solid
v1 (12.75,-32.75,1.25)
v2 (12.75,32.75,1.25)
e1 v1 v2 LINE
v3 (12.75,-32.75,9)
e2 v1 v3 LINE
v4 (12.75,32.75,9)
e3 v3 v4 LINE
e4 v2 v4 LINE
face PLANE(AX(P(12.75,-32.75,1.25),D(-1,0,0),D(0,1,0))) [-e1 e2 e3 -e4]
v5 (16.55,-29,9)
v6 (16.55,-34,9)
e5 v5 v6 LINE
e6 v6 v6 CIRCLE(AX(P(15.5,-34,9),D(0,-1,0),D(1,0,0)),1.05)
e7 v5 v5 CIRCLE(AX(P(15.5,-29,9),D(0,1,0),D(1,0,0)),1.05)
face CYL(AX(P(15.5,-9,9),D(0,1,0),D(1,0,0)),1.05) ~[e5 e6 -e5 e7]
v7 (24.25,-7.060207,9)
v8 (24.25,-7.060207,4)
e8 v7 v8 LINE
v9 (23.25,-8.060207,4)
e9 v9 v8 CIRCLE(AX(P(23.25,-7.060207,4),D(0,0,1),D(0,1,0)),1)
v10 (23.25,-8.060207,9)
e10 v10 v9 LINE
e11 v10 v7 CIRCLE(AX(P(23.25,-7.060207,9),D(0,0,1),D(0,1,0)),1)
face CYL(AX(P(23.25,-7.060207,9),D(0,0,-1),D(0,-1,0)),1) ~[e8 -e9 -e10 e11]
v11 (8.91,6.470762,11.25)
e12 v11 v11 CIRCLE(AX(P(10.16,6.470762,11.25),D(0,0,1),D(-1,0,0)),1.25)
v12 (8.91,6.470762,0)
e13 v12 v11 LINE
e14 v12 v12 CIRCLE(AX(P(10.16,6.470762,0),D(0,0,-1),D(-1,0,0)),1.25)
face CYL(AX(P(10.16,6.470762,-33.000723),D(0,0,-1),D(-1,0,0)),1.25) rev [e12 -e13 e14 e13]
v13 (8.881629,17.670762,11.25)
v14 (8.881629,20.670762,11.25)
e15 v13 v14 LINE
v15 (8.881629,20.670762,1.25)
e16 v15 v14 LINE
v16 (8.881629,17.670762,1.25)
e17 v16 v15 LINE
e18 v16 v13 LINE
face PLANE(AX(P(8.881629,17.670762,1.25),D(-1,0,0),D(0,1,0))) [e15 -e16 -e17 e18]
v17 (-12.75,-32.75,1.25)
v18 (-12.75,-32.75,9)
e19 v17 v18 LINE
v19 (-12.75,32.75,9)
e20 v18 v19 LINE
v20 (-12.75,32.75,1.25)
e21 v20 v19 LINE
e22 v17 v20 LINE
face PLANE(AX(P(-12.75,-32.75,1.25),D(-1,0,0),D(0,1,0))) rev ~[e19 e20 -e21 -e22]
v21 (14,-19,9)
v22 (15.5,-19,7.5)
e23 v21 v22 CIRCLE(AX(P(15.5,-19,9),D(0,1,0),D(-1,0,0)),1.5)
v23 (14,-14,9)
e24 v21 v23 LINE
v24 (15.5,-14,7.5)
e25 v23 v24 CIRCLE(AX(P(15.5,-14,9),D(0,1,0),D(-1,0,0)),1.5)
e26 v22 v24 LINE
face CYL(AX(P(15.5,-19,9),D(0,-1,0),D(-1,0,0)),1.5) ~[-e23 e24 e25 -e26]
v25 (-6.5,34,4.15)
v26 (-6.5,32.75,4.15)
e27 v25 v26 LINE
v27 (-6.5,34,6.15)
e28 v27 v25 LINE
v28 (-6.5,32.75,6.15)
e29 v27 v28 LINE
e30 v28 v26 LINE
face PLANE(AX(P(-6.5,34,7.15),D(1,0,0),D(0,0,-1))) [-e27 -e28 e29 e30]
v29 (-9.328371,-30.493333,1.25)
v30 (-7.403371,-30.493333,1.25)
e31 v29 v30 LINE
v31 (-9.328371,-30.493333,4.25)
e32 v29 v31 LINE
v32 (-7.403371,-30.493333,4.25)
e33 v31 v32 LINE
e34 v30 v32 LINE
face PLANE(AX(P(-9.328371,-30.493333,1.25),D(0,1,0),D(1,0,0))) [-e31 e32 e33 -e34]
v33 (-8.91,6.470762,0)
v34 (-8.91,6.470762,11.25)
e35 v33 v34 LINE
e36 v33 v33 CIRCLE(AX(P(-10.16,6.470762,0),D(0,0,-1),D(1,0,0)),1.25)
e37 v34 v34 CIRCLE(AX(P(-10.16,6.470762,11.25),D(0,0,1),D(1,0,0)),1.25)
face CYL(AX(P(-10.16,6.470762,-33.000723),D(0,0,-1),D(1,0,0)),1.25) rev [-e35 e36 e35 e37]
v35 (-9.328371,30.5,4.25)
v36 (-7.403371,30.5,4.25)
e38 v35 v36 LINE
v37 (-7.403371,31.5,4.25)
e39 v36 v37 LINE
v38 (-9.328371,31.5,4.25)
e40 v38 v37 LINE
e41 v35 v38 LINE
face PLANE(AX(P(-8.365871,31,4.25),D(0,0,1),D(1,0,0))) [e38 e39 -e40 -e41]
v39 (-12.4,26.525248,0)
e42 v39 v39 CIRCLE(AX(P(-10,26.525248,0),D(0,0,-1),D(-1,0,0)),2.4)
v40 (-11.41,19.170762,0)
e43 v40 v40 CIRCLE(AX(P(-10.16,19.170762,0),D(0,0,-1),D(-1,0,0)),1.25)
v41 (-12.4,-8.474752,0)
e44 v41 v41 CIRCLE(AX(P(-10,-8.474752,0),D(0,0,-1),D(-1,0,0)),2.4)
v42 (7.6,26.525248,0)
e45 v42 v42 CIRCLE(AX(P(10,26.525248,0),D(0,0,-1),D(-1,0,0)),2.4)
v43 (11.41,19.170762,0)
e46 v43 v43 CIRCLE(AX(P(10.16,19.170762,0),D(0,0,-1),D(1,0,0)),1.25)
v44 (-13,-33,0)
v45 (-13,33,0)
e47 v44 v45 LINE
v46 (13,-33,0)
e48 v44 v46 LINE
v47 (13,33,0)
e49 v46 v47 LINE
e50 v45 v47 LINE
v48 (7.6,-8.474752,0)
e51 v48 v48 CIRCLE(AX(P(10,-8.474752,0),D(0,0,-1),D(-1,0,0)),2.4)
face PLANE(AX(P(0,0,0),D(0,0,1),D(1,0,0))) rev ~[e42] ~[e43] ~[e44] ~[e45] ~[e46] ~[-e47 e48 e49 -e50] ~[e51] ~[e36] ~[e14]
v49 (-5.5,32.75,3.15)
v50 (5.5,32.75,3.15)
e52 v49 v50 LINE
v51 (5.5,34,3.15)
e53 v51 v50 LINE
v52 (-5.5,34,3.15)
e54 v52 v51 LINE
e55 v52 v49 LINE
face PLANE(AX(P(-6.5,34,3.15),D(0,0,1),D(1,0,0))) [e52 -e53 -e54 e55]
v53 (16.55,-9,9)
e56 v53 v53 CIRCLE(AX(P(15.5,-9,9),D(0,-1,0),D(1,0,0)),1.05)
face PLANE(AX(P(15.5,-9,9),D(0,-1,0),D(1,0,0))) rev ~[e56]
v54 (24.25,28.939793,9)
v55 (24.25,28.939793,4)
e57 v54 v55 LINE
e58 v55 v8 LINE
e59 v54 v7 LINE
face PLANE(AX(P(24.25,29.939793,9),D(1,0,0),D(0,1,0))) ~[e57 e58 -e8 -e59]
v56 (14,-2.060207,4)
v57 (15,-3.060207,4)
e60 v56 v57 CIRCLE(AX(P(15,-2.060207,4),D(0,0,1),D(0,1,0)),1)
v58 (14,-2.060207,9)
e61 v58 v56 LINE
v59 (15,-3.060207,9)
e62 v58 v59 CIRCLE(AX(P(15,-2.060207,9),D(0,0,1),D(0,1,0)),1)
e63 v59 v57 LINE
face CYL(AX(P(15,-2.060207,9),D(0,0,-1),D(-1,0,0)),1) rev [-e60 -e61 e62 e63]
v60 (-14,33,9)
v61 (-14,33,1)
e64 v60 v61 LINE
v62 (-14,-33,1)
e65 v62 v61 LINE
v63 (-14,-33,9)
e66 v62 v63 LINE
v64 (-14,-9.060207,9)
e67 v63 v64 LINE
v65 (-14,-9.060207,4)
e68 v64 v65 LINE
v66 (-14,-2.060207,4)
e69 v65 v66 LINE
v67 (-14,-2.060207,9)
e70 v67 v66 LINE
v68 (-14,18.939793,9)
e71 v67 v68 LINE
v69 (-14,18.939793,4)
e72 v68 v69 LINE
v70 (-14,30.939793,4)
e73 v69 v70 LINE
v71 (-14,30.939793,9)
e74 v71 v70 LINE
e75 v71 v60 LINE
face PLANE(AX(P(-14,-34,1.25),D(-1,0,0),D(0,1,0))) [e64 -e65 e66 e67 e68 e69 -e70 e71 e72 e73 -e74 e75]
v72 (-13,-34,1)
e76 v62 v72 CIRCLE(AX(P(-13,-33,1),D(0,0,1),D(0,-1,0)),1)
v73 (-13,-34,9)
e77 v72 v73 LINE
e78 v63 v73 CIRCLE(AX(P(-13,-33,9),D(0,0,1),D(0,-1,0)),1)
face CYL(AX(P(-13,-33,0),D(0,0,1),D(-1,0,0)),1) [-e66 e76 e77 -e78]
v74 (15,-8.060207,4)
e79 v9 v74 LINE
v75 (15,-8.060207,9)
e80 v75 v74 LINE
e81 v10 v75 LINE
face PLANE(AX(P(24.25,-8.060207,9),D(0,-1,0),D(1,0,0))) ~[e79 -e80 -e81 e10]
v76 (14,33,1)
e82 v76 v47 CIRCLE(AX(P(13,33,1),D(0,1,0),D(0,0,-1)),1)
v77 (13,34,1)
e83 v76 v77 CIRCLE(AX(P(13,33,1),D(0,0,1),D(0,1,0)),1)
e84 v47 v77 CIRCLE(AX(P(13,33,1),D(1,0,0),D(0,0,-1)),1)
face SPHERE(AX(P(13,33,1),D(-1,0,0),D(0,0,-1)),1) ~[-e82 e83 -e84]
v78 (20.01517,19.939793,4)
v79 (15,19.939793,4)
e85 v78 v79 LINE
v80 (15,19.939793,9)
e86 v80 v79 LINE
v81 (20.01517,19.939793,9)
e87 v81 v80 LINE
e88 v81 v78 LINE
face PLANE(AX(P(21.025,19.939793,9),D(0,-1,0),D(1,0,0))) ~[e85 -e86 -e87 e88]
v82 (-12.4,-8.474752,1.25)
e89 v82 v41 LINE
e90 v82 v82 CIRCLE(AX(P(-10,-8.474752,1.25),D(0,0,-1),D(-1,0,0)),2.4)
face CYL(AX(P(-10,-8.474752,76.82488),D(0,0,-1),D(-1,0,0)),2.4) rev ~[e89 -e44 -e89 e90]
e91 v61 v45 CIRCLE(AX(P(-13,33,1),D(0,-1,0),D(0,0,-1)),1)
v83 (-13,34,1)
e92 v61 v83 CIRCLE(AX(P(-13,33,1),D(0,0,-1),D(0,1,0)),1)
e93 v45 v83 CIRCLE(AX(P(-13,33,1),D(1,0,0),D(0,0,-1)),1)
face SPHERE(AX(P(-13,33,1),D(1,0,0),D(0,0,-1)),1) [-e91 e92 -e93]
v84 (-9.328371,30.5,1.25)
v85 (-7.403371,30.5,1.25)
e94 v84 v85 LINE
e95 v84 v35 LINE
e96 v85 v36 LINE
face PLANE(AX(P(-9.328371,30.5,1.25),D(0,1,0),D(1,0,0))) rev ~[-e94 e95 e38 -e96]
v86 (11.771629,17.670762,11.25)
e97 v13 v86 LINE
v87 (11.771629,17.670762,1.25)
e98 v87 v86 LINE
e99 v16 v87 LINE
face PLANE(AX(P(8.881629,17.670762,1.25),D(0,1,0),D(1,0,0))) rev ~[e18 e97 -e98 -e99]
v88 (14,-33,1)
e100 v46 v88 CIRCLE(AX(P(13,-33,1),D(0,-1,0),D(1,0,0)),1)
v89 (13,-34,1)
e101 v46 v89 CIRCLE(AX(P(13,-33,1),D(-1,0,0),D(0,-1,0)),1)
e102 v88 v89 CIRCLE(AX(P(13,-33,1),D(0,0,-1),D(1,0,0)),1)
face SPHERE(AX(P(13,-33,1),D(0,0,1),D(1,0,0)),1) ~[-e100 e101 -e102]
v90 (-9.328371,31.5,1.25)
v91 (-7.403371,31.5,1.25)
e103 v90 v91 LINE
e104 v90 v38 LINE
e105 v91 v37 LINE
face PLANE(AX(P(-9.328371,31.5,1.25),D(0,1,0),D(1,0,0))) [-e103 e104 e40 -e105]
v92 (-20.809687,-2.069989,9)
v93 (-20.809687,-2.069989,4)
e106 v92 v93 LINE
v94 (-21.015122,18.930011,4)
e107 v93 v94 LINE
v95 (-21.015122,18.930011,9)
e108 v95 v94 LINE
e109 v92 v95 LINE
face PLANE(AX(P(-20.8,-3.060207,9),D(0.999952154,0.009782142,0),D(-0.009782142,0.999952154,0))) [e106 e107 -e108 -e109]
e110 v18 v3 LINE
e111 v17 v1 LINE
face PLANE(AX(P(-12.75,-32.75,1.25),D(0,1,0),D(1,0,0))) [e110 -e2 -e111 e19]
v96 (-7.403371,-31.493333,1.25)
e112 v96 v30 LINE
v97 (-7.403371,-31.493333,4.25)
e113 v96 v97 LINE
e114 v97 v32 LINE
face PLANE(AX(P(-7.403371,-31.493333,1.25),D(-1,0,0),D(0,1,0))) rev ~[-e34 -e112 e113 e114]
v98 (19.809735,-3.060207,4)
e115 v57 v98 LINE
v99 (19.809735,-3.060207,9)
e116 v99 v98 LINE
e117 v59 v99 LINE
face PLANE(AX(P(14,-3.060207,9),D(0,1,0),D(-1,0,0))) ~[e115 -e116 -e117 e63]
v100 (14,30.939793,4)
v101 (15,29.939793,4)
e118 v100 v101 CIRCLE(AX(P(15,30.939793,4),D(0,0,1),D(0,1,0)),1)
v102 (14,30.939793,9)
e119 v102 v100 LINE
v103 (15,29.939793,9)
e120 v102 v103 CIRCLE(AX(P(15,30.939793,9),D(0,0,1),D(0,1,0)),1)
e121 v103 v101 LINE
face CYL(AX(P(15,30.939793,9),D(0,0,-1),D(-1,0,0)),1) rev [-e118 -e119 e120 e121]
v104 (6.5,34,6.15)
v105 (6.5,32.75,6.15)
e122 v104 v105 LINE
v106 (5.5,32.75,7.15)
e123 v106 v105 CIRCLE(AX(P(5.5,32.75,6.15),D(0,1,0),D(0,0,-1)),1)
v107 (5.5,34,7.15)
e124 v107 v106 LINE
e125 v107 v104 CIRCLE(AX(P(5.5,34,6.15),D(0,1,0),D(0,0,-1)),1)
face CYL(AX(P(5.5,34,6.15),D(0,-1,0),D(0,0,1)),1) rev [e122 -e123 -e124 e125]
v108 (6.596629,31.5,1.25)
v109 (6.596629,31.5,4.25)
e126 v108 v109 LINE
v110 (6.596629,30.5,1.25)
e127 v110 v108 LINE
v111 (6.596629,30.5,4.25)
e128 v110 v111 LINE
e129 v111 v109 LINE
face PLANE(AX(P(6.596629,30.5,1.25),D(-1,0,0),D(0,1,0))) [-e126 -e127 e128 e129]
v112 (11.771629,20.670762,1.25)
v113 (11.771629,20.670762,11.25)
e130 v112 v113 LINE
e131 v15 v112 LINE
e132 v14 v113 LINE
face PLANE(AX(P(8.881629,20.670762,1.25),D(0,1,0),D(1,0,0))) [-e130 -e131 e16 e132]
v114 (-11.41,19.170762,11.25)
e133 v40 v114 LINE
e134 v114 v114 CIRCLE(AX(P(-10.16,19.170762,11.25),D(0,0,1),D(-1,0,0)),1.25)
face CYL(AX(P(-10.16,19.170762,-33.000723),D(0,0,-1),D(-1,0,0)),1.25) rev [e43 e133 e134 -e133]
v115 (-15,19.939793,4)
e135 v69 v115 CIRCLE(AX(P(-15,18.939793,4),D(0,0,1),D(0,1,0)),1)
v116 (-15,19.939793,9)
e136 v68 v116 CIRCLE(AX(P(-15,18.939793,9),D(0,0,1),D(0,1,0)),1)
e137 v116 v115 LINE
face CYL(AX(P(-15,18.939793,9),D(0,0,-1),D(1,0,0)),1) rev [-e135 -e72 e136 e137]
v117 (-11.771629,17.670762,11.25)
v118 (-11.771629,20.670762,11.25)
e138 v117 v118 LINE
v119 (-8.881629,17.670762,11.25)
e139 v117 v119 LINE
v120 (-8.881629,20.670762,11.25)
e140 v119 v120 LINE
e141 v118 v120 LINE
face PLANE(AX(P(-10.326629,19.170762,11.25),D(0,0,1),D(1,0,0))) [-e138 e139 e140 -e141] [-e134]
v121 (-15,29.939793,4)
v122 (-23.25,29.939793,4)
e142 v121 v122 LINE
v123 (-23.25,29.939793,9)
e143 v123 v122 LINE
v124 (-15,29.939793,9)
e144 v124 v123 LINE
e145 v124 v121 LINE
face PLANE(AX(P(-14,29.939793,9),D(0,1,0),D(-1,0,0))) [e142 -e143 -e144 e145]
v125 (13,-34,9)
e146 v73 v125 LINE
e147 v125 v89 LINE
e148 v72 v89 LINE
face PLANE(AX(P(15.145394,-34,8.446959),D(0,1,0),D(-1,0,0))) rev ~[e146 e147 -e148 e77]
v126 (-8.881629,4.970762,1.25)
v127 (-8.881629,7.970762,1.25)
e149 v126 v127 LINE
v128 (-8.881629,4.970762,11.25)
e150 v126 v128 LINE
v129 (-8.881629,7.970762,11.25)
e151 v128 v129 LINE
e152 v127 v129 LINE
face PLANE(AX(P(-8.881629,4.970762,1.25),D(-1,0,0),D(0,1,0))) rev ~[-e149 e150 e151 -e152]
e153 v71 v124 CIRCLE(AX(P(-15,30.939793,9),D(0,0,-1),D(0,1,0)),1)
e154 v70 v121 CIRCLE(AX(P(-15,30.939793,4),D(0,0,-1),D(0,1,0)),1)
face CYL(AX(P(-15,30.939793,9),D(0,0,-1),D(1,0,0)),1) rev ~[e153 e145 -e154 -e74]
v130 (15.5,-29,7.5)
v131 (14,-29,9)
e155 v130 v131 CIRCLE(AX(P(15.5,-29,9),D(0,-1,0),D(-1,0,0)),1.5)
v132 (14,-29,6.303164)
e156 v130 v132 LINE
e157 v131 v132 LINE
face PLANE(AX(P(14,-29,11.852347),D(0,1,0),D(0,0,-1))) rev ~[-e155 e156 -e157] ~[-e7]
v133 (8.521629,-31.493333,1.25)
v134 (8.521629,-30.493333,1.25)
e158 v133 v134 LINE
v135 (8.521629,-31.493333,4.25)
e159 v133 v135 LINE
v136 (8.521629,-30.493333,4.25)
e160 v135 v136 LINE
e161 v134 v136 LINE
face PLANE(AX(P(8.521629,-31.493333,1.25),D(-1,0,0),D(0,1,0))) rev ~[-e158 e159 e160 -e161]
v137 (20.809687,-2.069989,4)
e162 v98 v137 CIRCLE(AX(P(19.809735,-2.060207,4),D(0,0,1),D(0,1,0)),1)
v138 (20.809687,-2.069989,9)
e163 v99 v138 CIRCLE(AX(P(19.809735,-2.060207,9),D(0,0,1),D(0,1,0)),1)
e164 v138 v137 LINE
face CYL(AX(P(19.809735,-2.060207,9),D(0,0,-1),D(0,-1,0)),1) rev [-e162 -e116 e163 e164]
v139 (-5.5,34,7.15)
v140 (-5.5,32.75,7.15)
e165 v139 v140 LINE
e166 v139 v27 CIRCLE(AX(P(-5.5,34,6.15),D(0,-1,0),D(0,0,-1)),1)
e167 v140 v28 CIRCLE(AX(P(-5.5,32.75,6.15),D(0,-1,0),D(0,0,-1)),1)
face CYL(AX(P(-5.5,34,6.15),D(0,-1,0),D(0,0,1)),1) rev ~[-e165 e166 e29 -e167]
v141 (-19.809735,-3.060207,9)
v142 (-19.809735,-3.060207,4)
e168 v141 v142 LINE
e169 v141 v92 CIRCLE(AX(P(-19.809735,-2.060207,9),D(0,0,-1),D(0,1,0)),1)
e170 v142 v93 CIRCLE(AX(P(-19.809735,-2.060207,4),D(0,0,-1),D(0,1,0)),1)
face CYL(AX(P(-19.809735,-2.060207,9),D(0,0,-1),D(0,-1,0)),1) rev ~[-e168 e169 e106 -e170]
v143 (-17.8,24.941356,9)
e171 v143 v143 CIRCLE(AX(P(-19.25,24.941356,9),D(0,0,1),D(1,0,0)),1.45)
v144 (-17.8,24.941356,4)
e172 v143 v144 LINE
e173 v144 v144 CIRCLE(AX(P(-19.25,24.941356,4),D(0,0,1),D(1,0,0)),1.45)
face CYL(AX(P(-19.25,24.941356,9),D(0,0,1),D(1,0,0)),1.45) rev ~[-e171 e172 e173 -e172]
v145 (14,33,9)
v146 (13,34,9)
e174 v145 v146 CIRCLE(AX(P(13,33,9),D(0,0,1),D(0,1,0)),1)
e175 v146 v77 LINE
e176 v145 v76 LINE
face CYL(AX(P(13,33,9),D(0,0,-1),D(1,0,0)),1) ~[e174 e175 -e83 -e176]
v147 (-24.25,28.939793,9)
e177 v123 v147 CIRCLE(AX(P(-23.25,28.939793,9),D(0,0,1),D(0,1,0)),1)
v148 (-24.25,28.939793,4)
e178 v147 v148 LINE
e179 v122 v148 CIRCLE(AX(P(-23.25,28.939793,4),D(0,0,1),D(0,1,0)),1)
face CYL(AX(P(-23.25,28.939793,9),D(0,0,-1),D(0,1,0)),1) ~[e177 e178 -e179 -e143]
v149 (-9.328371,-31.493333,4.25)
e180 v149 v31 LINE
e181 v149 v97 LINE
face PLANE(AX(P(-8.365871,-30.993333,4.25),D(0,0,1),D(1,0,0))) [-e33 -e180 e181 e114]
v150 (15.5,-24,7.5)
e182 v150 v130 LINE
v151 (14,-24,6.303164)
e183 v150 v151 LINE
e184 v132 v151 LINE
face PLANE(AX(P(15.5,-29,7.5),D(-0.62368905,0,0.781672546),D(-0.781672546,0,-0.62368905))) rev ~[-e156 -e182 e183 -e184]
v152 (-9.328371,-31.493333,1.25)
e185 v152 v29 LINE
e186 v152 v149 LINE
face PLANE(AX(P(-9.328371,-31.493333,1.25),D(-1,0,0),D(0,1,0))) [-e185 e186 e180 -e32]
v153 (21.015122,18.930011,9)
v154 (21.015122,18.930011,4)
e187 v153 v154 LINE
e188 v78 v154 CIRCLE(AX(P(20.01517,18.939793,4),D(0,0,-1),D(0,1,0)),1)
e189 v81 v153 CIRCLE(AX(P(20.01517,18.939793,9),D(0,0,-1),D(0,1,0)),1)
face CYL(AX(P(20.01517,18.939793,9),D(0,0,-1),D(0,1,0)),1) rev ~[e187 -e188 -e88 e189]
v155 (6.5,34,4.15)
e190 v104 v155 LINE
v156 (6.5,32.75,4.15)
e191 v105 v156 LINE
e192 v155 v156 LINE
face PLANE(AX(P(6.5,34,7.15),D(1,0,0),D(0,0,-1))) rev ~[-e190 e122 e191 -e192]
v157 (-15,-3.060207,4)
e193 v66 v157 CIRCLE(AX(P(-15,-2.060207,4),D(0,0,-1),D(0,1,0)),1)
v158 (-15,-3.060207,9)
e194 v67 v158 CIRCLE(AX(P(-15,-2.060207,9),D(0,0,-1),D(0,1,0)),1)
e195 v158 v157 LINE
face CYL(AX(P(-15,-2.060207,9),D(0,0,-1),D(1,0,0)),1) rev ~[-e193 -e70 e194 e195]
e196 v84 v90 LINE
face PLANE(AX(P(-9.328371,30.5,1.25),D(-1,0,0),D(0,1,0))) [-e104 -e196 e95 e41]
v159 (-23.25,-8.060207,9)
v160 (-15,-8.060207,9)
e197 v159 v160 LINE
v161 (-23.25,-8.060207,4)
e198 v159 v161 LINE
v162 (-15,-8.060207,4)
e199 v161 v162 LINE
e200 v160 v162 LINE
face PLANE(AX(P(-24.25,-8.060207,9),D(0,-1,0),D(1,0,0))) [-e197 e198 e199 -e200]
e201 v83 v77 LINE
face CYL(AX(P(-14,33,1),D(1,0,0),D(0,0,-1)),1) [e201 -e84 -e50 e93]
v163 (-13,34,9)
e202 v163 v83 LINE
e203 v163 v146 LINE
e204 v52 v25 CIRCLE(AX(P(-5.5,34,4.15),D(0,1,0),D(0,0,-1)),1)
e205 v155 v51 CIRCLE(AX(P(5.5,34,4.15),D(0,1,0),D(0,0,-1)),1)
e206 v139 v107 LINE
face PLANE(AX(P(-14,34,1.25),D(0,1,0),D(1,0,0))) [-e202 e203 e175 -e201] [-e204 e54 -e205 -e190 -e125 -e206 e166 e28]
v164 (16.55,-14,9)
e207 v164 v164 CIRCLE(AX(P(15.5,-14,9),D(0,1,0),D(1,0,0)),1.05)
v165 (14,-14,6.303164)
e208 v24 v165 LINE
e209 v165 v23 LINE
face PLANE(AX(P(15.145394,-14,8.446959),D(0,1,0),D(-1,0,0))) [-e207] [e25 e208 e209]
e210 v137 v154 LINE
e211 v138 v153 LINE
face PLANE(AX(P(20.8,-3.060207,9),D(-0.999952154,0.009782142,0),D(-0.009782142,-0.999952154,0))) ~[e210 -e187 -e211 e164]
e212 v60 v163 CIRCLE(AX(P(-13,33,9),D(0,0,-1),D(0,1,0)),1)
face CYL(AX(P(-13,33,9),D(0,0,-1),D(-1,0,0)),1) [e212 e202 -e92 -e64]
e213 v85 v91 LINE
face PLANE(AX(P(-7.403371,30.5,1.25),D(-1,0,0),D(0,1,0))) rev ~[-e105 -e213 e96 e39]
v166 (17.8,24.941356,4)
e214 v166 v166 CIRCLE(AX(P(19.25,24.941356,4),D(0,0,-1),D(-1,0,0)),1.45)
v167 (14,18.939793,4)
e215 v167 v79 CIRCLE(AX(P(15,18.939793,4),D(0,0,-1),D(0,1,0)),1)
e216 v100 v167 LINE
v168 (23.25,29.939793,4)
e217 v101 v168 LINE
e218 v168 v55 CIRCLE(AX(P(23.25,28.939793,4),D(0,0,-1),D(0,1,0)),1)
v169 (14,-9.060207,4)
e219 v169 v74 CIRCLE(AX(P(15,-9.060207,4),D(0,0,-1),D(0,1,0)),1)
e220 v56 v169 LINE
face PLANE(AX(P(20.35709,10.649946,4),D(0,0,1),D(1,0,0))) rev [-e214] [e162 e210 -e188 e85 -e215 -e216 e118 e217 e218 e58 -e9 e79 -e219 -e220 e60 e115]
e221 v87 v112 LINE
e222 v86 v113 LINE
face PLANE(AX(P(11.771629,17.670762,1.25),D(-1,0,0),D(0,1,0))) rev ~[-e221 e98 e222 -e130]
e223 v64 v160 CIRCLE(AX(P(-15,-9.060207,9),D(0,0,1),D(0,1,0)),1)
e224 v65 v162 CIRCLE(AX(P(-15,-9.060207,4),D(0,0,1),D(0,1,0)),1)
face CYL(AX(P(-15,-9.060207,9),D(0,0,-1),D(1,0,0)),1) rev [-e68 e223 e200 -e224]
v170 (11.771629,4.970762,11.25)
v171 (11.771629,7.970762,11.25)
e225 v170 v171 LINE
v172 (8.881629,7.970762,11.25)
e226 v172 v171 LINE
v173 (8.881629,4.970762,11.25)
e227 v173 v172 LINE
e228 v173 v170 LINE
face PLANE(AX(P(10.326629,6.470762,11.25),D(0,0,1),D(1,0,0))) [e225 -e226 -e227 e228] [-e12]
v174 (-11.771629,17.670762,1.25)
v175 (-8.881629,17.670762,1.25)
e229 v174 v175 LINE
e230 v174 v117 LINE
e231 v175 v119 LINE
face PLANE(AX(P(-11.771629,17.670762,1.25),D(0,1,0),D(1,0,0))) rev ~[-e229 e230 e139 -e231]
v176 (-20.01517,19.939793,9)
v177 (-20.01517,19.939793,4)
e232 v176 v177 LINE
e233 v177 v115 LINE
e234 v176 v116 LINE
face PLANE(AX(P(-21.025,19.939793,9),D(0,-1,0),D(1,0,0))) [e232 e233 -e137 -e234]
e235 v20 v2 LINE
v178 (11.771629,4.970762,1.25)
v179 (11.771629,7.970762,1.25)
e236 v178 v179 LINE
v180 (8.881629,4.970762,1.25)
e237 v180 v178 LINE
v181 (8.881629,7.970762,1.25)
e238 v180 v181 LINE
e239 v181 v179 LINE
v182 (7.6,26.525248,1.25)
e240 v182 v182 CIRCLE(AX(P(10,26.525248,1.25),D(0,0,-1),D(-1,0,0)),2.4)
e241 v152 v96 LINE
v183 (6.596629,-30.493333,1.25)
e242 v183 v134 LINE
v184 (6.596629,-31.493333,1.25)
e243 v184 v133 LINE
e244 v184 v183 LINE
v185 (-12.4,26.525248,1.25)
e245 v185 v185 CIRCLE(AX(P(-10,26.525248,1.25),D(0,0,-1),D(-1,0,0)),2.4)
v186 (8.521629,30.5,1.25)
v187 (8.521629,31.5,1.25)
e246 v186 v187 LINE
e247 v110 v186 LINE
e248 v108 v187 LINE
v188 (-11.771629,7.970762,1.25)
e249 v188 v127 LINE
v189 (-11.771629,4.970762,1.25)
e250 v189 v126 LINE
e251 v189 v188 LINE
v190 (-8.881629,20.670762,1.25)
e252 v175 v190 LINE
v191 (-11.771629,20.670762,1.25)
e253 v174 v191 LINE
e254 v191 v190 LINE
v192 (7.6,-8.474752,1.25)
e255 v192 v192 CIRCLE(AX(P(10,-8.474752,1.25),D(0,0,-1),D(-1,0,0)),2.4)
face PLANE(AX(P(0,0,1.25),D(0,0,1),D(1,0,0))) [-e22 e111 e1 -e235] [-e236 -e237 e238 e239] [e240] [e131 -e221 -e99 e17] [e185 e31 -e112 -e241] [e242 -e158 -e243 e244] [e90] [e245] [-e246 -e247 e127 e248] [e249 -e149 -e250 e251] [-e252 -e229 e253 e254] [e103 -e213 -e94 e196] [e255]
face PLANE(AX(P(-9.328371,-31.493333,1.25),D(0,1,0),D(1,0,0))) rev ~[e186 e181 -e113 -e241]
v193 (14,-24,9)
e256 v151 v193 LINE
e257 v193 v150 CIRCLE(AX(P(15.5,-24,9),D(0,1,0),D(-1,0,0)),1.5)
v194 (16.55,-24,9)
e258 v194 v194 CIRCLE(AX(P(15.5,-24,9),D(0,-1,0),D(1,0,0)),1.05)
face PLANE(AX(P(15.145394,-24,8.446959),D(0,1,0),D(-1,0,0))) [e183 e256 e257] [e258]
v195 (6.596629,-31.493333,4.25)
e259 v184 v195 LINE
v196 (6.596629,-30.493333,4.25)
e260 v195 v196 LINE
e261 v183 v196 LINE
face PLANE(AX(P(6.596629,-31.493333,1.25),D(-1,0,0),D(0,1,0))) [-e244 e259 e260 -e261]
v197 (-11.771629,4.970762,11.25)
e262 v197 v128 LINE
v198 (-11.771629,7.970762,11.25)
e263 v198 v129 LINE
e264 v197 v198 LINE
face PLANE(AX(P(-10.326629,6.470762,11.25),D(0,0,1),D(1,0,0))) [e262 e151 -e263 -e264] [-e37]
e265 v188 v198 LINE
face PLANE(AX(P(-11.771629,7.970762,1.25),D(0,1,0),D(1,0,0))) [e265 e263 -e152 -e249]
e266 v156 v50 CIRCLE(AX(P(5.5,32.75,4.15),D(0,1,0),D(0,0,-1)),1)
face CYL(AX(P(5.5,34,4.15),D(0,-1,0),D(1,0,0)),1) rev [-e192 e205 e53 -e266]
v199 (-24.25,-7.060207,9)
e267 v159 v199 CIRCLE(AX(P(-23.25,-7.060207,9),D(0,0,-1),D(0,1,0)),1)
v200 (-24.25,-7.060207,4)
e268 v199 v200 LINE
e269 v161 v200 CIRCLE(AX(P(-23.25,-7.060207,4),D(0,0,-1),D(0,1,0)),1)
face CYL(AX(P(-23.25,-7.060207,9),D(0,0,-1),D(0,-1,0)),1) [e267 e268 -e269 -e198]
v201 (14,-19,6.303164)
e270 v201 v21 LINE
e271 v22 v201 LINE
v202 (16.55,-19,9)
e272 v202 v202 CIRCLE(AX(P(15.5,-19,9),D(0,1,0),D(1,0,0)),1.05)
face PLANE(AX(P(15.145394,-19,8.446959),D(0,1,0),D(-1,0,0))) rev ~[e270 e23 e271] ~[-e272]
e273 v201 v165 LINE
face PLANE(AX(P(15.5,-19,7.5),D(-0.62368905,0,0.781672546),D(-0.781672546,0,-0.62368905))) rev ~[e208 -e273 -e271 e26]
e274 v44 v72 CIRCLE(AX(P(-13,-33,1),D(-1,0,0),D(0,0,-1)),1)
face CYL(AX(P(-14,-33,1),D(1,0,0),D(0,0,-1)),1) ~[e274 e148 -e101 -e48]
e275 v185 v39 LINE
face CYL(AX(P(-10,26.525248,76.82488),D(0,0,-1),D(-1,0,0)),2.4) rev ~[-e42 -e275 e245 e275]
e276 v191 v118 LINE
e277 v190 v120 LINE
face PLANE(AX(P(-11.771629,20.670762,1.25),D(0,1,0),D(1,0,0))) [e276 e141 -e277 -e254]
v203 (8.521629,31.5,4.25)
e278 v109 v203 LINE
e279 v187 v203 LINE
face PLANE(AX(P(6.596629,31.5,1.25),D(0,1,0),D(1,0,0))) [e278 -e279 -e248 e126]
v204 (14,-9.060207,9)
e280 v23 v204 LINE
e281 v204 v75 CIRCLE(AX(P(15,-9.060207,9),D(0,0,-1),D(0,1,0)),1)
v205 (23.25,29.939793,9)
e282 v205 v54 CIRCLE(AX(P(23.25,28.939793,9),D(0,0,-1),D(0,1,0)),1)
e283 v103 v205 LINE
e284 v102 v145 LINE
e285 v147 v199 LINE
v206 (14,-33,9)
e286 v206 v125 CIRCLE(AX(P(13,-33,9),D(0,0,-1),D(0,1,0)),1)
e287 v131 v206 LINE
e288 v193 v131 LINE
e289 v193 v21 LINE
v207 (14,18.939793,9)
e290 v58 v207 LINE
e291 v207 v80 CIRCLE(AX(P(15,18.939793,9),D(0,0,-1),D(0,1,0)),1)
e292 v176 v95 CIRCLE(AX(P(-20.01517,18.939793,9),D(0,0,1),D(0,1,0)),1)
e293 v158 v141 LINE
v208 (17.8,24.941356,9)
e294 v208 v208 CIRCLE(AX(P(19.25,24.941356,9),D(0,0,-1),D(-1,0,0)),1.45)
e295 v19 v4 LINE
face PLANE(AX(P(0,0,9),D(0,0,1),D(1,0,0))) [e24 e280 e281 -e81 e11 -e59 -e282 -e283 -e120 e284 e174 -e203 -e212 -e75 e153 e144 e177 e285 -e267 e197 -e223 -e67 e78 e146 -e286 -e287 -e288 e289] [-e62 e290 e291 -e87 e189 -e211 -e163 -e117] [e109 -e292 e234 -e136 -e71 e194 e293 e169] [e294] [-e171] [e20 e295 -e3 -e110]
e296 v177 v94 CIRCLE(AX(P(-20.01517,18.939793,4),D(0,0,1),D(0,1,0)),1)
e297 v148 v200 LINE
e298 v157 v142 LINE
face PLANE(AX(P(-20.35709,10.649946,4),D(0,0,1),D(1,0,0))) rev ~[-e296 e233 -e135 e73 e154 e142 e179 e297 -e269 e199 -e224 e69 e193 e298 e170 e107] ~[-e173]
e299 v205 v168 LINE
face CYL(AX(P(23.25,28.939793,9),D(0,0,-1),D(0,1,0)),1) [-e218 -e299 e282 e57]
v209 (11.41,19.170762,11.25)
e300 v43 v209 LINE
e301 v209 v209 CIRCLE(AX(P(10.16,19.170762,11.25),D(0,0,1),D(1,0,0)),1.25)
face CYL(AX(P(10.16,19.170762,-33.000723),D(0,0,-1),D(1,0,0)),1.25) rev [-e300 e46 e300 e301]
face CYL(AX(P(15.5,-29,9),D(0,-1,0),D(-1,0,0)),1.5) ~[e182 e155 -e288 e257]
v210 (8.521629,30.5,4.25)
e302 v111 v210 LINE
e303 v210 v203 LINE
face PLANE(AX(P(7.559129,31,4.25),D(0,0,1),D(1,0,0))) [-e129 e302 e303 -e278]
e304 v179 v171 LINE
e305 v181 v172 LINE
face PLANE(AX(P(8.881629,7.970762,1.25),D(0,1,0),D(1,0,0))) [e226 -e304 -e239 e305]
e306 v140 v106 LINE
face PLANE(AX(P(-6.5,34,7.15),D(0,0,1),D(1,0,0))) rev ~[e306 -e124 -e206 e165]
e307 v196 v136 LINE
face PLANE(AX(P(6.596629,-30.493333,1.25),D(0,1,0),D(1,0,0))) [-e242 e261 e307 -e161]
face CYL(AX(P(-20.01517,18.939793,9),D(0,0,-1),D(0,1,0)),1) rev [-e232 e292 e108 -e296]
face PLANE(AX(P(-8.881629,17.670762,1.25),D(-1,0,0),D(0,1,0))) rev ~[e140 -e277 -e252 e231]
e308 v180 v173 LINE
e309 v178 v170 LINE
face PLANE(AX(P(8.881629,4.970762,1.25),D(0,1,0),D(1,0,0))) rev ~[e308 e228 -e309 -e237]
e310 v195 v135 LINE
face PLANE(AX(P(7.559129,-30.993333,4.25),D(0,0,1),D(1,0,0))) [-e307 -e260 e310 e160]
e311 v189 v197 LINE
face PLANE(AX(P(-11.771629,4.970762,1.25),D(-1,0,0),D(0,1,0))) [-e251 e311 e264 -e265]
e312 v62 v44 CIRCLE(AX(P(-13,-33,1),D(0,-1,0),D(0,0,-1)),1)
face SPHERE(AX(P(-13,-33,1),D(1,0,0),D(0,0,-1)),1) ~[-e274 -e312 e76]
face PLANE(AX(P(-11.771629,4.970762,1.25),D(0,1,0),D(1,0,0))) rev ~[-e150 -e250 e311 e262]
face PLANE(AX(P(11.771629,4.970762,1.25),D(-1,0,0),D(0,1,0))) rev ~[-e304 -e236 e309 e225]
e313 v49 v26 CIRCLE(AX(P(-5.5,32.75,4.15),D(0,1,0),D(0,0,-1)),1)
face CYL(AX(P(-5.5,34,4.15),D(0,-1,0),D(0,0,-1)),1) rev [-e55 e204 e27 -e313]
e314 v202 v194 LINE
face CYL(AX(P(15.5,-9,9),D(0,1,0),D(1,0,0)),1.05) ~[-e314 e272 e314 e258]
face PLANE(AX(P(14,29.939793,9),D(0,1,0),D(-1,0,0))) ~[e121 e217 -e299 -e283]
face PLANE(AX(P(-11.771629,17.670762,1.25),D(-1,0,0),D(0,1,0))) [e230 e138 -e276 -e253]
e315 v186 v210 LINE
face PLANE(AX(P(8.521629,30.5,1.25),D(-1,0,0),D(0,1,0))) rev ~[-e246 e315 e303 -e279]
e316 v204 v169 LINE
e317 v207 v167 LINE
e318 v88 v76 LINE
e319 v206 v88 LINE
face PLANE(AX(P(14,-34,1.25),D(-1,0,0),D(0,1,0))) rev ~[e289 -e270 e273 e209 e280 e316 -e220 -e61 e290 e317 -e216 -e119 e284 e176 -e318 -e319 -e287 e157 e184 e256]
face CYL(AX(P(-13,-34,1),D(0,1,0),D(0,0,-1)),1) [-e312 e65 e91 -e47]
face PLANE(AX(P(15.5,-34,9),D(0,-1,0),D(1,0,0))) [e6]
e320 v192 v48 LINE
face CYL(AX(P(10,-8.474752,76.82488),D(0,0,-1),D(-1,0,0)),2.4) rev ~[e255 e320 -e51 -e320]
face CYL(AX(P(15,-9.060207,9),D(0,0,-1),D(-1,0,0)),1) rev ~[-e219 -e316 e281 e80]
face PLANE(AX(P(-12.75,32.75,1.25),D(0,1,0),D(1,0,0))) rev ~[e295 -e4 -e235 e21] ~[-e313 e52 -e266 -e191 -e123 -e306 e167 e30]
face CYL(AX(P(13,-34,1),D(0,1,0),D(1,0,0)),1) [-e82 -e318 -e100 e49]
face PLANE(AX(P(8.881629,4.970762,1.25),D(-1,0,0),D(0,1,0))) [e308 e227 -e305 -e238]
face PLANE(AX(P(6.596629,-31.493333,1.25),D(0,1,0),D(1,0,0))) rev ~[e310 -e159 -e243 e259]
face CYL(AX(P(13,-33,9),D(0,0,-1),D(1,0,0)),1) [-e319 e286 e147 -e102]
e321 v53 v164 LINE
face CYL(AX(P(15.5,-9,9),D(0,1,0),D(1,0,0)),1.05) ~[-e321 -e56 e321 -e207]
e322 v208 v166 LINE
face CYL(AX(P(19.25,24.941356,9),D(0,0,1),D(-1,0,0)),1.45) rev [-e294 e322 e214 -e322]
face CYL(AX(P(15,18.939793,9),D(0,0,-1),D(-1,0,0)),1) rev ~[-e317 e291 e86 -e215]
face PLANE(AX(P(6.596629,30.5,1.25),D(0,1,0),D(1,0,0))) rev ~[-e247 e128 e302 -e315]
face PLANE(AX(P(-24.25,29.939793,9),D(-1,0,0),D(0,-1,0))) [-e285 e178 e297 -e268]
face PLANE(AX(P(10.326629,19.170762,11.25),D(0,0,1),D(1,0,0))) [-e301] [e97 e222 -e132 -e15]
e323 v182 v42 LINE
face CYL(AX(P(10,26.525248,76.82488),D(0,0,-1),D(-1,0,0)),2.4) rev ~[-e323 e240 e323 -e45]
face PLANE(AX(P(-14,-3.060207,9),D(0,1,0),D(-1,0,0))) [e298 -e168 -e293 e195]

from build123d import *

# Parameters (mm, degrees)
SKETCH1_W                 = 28
SKETCH1_H                 = 68
BOSS_EXTRUDE1_DEPTH       = 1.25
SKETCH21_W                = 1.925
SKETCH21_H                = 1
BOSS_EXTRUDE10_DEPTH      = 3
SKETCH22_W                = 2.89
SKETCH22_H                = 3
SKETCH22_R                = 1.25
BOSS_EXTRUDE11_DEPTH      = 10
SKETCH7_W                 = 28
SKETCH7_H                 = 68
SKETCH7_W_2               = 25.5
SKETCH7_H_2               = 65.5
BOSS_EXTRUDE4_DEPTH       = 7.75
SKETCH18_W                = 13
SKETCH18_H                = 4
CUT_EXTRUDE10_DEPTH       = 1.25
SKETCH13_R                = 1.05
BOSS_EXTRUDE7_DEPTH       = 5
LPATTERN2_COUNT           = 4
LPATTERN2_PITCH           = 5
SKETCH14_W                = 10
SKETCH14_H                = 5
CUT_EXTRUDE5_DEPTH        = 5
FILLET1_R                 = 1
FILLET7_R                 = 1
M4_CLEARANCE_HOLE1_D      = 4.8
SKETCH26_R                = 1.45
BOSS_EXTRUDE12_DEPTH      = 5
FILLET10_R                = 1
FILLET12_R                = 1
BOSS_EXTRUDE13_DEPTH      = 5
BOSS_EXTRUDE13_DEPTH_BACK = 20
SKETCH28_R                = 1.05
CUT_EXTRUDE11_DEPTH       = 44.250722537
CUT_EXTRUDE11_DEPTH_BACK  = 44.250722537
SKETCH29_R                = 1.25


with BuildPart() as part:
    # Sketch1 → Boss-Extrude1 (new body)
    with BuildSketch(Plane.XY):
        Rectangle(SKETCH1_W, SKETCH1_H)
    extrude(amount=BOSS_EXTRUDE1_DEPTH)

    # Sketch21 → Boss-Extrude10 (add)
    with BuildSketch(Plane.XY.offset(1.25)):
        with Locations((-8.365871065, 31)):
            Rectangle(SKETCH21_W, SKETCH21_H)
        with Locations((7.559128935, 31)):
            Rectangle(SKETCH21_W, SKETCH21_H)
        with Locations((7.559128935, -30.993333443)):
            Rectangle(SKETCH21_W, SKETCH21_H)
        with Locations((-8.365871065, -30.993333443)):
            Rectangle(SKETCH21_W, SKETCH21_H)
    extrude(amount=BOSS_EXTRUDE10_DEPTH)

    # Sketch22 → Boss-Extrude11 (add)
    # profile 1 of 4: a face of its own
    with BuildSketch(Plane.XY.offset(1.25)):
        with Locations((10.326628935, 19.170761532)):
            Rectangle(SKETCH22_W, SKETCH22_H)
        with Locations((10.16, 19.170761532)):
            Circle(SKETCH22_R, mode=Mode.SUBTRACT)
    # profile 2 of 4: a face of its own
    with BuildSketch(Plane.XY.offset(1.25)):
        with Locations((-10.326628935, 19.170761532)):
            Rectangle(SKETCH22_W, SKETCH22_H)
        with Locations(Location((-10.16, 19.170761532, 0), (0, 0, 180))):
            Circle(SKETCH22_R, mode=Mode.SUBTRACT)
    # profile 3 of 4: a face of its own
    with BuildSketch(Plane.XY.offset(1.25)):
        with Locations((10.326628935, 6.470761532)):
            Rectangle(SKETCH22_W, SKETCH22_H)
        with Locations(Location((10.16, 6.470761532, 0), (0, 0, 180))):
            Circle(SKETCH22_R, mode=Mode.SUBTRACT)
    # profile 4 of 4: a face of its own
    with BuildSketch(Plane.XY.offset(1.25)):
        with Locations((-10.326628935, 6.470761532)):
            Rectangle(SKETCH22_W, SKETCH22_H)
        with Locations((-10.16, 6.470761532)):
            Circle(SKETCH22_R, mode=Mode.SUBTRACT)
    extrude(amount=BOSS_EXTRUDE11_DEPTH)

    # Sketch7 → Boss-Extrude4 (add)
    with BuildSketch(Plane.XY.offset(1.25)):
        Rectangle(SKETCH7_W, SKETCH7_H)
        Rectangle(SKETCH7_W_2, SKETCH7_H_2, mode=Mode.SUBTRACT)
    extrude(amount=BOSS_EXTRUDE4_DEPTH)

    # Sketch18 → Cut-Extrude10 (cut)
    with BuildSketch(Plane(origin=(0, 34, 0), x_dir=(1, 0, 0), z_dir=(0, 1, 0))):
        with Locations((0, -5.15)):
            Rectangle(SKETCH18_W, SKETCH18_H)
    extrude(amount=-CUT_EXTRUDE10_DEPTH, mode=Mode.SUBTRACT)

    # Sketch13 → Boss-Extrude7 (add)
    with BuildSketch(Plane.XZ.offset(34)):
        with BuildLine():
            Line((15.5, 7.5), (14, 6.303164343))
            Line((14, 6.303164343), (14, 9))
            ThreePointArc((14, 9), (16.560660172, 10.060660172), (15.5, 7.5))
        make_face()
        with Locations(Location((15.5, 9, 0), (0, 0, 270))):
            Circle(SKETCH13_R, mode=Mode.SUBTRACT)
    boss_extrude7 = extrude(amount=-BOSS_EXTRUDE7_DEPTH)

    # LPattern2: Boss-Extrude7 ×4, 1 skipped
    with Locations(*[(0, i * LPATTERN2_PITCH, 0) for i in range(1, LPATTERN2_COUNT) if i not in (2,)]):
        add(boss_extrude7)

    # Sketch14 → Cut-Extrude5 (cut)
    with BuildSketch(Plane(origin=(14, 0, 0), x_dir=(0, 0, -1), z_dir=(1, 0, 0))):
        with Locations((-6.85234732, -31.5)):
            Rectangle(SKETCH14_W, SKETCH14_H)
    extrude(amount=CUT_EXTRUDE5_DEPTH, mode=Mode.SUBTRACT)

    # Fillet1
    fillet1_edges = [part.edges().sort_by_distance(p)[0] for p in [
        (14, -34, 4.5),
        (0, 34, 0),
        (14, 0, 0),
        (0, -34, 0),
        (-14, 0, 0),
        (-14, 34, 4.5),
        (14, 34, 4.5),
        (-14, -34, 4.5),
    ]]
    fillet(fillet1_edges, radius=FILLET1_R)

    # Fillet7
    fillet7_edges = [part.edges().sort_by_distance(p)[0] for p in [
        (-6.5, 33.375, 3.15),
        (-6.5, 33.375, 7.15),
        (6.5, 33.375, 7.15),
        (6.5, 33.375, 3.15),
    ]]
    fillet(fillet7_edges, radius=FILLET7_R)

    # M4 Clearance Hole1 (through all)
    with Locations(Plane.XY.offset(1.25)):
        with Locations((-10, 26.525248178), (10, 26.525248178), (10, -8.474751822), (-10, -8.474751822)):
            Hole(M4_CLEARANCE_HOLE1_D / 2)

    # Sketch26 → Boss-Extrude12 (add)
    with BuildSketch(Plane.XY.offset(9)):
        Polygon((-14, 29.939793189), (-24.25, 29.939793189), (-24.25, -8.060206811), (-14, -8.060206811), (-14, -3.060206811), (-20.799999976, -3.060206811), (-21.025, 19.939793189), (-14, 19.939793189), align=None)
        with Locations((-19.25, 24.941355933)):
            Circle(SKETCH26_R, mode=Mode.SUBTRACT)
    boss_extrude12 = extrude(amount=-BOSS_EXTRUDE12_DEPTH)

    # Fillet10
    fillet10_edges = [part.edges().sort_by_distance(p)[0] for p in [
        (-14, 29.939793189, 6.5),
        (-14, 19.939793189, 6.5),
        (-21.025, 19.939793189, 6.5),
        (-20.799999976, -3.060206811, 6.5),
        (-14, -3.060206811, 6.5),
        (-14, -8.060206811, 6.5),
        (-24.25, -8.060206811, 6.5),
        (-24.25, 29.939793189, 6.5),
    ]]
    fillet(fillet10_edges, radius=FILLET10_R)

    # Mirror2: Boss-Extrude12 across plane
    add(boss_extrude12.mirror(Plane.ZY))

    # Fillet12
    fillet12_edges = [part.edges().sort_by_distance(p)[0] for p in [
        (14, 19.939793189, 6.5),
        (14, 29.939793189, 6.5),
        (24.25, 29.939793189, 6.5),
        (24.25, -8.060206811, 6.5),
        (14, -8.060206811, 6.5),
        (14, -3.060206811, 6.5),
        (20.799999976, -3.060206811, 6.5),
        (21.025, 19.939793189, 6.5),
    ]]
    fillet(fillet12_edges, radius=FILLET12_R)

    # Sketch28 → Boss-Extrude13 (add, two sides: drawn at the far end of the back side and taken through both)
    with BuildSketch(Plane(origin=(0, -29, 0), x_dir=(-1, 0, 0), z_dir=(0, -1, 0)).offset(-BOSS_EXTRUDE13_DEPTH_BACK)):
        with Locations(Location((-15.5, -9, 0), (0, 0, 180))):
            Circle(SKETCH28_R)
    extrude(amount=BOSS_EXTRUDE13_DEPTH + BOSS_EXTRUDE13_DEPTH_BACK)

    # Sketch29 → Cut-Extrude11 (cut, two sides: drawn at the far end of the back side and taken through both)
    with BuildSketch(Plane.XY.offset(11.25).offset(-CUT_EXTRUDE11_DEPTH_BACK)):
        with Locations(Location((-10.16, 19.170761532, 0), (0, 0, 180))):
            Circle(SKETCH29_R)
        with Locations((-10.16, 6.470761532)):
            Circle(SKETCH29_R)
        with Locations(Location((10.16, 6.470761532, 0), (0, 0, 180))):
            Circle(SKETCH29_R)
        with Locations((10.16, 19.170761532)):
            Circle(SKETCH29_R)
    extrude(amount=CUT_EXTRUDE11_DEPTH + CUT_EXTRUDE11_DEPTH_BACK, mode=Mode.SUBTRACT)


solid = part.part
